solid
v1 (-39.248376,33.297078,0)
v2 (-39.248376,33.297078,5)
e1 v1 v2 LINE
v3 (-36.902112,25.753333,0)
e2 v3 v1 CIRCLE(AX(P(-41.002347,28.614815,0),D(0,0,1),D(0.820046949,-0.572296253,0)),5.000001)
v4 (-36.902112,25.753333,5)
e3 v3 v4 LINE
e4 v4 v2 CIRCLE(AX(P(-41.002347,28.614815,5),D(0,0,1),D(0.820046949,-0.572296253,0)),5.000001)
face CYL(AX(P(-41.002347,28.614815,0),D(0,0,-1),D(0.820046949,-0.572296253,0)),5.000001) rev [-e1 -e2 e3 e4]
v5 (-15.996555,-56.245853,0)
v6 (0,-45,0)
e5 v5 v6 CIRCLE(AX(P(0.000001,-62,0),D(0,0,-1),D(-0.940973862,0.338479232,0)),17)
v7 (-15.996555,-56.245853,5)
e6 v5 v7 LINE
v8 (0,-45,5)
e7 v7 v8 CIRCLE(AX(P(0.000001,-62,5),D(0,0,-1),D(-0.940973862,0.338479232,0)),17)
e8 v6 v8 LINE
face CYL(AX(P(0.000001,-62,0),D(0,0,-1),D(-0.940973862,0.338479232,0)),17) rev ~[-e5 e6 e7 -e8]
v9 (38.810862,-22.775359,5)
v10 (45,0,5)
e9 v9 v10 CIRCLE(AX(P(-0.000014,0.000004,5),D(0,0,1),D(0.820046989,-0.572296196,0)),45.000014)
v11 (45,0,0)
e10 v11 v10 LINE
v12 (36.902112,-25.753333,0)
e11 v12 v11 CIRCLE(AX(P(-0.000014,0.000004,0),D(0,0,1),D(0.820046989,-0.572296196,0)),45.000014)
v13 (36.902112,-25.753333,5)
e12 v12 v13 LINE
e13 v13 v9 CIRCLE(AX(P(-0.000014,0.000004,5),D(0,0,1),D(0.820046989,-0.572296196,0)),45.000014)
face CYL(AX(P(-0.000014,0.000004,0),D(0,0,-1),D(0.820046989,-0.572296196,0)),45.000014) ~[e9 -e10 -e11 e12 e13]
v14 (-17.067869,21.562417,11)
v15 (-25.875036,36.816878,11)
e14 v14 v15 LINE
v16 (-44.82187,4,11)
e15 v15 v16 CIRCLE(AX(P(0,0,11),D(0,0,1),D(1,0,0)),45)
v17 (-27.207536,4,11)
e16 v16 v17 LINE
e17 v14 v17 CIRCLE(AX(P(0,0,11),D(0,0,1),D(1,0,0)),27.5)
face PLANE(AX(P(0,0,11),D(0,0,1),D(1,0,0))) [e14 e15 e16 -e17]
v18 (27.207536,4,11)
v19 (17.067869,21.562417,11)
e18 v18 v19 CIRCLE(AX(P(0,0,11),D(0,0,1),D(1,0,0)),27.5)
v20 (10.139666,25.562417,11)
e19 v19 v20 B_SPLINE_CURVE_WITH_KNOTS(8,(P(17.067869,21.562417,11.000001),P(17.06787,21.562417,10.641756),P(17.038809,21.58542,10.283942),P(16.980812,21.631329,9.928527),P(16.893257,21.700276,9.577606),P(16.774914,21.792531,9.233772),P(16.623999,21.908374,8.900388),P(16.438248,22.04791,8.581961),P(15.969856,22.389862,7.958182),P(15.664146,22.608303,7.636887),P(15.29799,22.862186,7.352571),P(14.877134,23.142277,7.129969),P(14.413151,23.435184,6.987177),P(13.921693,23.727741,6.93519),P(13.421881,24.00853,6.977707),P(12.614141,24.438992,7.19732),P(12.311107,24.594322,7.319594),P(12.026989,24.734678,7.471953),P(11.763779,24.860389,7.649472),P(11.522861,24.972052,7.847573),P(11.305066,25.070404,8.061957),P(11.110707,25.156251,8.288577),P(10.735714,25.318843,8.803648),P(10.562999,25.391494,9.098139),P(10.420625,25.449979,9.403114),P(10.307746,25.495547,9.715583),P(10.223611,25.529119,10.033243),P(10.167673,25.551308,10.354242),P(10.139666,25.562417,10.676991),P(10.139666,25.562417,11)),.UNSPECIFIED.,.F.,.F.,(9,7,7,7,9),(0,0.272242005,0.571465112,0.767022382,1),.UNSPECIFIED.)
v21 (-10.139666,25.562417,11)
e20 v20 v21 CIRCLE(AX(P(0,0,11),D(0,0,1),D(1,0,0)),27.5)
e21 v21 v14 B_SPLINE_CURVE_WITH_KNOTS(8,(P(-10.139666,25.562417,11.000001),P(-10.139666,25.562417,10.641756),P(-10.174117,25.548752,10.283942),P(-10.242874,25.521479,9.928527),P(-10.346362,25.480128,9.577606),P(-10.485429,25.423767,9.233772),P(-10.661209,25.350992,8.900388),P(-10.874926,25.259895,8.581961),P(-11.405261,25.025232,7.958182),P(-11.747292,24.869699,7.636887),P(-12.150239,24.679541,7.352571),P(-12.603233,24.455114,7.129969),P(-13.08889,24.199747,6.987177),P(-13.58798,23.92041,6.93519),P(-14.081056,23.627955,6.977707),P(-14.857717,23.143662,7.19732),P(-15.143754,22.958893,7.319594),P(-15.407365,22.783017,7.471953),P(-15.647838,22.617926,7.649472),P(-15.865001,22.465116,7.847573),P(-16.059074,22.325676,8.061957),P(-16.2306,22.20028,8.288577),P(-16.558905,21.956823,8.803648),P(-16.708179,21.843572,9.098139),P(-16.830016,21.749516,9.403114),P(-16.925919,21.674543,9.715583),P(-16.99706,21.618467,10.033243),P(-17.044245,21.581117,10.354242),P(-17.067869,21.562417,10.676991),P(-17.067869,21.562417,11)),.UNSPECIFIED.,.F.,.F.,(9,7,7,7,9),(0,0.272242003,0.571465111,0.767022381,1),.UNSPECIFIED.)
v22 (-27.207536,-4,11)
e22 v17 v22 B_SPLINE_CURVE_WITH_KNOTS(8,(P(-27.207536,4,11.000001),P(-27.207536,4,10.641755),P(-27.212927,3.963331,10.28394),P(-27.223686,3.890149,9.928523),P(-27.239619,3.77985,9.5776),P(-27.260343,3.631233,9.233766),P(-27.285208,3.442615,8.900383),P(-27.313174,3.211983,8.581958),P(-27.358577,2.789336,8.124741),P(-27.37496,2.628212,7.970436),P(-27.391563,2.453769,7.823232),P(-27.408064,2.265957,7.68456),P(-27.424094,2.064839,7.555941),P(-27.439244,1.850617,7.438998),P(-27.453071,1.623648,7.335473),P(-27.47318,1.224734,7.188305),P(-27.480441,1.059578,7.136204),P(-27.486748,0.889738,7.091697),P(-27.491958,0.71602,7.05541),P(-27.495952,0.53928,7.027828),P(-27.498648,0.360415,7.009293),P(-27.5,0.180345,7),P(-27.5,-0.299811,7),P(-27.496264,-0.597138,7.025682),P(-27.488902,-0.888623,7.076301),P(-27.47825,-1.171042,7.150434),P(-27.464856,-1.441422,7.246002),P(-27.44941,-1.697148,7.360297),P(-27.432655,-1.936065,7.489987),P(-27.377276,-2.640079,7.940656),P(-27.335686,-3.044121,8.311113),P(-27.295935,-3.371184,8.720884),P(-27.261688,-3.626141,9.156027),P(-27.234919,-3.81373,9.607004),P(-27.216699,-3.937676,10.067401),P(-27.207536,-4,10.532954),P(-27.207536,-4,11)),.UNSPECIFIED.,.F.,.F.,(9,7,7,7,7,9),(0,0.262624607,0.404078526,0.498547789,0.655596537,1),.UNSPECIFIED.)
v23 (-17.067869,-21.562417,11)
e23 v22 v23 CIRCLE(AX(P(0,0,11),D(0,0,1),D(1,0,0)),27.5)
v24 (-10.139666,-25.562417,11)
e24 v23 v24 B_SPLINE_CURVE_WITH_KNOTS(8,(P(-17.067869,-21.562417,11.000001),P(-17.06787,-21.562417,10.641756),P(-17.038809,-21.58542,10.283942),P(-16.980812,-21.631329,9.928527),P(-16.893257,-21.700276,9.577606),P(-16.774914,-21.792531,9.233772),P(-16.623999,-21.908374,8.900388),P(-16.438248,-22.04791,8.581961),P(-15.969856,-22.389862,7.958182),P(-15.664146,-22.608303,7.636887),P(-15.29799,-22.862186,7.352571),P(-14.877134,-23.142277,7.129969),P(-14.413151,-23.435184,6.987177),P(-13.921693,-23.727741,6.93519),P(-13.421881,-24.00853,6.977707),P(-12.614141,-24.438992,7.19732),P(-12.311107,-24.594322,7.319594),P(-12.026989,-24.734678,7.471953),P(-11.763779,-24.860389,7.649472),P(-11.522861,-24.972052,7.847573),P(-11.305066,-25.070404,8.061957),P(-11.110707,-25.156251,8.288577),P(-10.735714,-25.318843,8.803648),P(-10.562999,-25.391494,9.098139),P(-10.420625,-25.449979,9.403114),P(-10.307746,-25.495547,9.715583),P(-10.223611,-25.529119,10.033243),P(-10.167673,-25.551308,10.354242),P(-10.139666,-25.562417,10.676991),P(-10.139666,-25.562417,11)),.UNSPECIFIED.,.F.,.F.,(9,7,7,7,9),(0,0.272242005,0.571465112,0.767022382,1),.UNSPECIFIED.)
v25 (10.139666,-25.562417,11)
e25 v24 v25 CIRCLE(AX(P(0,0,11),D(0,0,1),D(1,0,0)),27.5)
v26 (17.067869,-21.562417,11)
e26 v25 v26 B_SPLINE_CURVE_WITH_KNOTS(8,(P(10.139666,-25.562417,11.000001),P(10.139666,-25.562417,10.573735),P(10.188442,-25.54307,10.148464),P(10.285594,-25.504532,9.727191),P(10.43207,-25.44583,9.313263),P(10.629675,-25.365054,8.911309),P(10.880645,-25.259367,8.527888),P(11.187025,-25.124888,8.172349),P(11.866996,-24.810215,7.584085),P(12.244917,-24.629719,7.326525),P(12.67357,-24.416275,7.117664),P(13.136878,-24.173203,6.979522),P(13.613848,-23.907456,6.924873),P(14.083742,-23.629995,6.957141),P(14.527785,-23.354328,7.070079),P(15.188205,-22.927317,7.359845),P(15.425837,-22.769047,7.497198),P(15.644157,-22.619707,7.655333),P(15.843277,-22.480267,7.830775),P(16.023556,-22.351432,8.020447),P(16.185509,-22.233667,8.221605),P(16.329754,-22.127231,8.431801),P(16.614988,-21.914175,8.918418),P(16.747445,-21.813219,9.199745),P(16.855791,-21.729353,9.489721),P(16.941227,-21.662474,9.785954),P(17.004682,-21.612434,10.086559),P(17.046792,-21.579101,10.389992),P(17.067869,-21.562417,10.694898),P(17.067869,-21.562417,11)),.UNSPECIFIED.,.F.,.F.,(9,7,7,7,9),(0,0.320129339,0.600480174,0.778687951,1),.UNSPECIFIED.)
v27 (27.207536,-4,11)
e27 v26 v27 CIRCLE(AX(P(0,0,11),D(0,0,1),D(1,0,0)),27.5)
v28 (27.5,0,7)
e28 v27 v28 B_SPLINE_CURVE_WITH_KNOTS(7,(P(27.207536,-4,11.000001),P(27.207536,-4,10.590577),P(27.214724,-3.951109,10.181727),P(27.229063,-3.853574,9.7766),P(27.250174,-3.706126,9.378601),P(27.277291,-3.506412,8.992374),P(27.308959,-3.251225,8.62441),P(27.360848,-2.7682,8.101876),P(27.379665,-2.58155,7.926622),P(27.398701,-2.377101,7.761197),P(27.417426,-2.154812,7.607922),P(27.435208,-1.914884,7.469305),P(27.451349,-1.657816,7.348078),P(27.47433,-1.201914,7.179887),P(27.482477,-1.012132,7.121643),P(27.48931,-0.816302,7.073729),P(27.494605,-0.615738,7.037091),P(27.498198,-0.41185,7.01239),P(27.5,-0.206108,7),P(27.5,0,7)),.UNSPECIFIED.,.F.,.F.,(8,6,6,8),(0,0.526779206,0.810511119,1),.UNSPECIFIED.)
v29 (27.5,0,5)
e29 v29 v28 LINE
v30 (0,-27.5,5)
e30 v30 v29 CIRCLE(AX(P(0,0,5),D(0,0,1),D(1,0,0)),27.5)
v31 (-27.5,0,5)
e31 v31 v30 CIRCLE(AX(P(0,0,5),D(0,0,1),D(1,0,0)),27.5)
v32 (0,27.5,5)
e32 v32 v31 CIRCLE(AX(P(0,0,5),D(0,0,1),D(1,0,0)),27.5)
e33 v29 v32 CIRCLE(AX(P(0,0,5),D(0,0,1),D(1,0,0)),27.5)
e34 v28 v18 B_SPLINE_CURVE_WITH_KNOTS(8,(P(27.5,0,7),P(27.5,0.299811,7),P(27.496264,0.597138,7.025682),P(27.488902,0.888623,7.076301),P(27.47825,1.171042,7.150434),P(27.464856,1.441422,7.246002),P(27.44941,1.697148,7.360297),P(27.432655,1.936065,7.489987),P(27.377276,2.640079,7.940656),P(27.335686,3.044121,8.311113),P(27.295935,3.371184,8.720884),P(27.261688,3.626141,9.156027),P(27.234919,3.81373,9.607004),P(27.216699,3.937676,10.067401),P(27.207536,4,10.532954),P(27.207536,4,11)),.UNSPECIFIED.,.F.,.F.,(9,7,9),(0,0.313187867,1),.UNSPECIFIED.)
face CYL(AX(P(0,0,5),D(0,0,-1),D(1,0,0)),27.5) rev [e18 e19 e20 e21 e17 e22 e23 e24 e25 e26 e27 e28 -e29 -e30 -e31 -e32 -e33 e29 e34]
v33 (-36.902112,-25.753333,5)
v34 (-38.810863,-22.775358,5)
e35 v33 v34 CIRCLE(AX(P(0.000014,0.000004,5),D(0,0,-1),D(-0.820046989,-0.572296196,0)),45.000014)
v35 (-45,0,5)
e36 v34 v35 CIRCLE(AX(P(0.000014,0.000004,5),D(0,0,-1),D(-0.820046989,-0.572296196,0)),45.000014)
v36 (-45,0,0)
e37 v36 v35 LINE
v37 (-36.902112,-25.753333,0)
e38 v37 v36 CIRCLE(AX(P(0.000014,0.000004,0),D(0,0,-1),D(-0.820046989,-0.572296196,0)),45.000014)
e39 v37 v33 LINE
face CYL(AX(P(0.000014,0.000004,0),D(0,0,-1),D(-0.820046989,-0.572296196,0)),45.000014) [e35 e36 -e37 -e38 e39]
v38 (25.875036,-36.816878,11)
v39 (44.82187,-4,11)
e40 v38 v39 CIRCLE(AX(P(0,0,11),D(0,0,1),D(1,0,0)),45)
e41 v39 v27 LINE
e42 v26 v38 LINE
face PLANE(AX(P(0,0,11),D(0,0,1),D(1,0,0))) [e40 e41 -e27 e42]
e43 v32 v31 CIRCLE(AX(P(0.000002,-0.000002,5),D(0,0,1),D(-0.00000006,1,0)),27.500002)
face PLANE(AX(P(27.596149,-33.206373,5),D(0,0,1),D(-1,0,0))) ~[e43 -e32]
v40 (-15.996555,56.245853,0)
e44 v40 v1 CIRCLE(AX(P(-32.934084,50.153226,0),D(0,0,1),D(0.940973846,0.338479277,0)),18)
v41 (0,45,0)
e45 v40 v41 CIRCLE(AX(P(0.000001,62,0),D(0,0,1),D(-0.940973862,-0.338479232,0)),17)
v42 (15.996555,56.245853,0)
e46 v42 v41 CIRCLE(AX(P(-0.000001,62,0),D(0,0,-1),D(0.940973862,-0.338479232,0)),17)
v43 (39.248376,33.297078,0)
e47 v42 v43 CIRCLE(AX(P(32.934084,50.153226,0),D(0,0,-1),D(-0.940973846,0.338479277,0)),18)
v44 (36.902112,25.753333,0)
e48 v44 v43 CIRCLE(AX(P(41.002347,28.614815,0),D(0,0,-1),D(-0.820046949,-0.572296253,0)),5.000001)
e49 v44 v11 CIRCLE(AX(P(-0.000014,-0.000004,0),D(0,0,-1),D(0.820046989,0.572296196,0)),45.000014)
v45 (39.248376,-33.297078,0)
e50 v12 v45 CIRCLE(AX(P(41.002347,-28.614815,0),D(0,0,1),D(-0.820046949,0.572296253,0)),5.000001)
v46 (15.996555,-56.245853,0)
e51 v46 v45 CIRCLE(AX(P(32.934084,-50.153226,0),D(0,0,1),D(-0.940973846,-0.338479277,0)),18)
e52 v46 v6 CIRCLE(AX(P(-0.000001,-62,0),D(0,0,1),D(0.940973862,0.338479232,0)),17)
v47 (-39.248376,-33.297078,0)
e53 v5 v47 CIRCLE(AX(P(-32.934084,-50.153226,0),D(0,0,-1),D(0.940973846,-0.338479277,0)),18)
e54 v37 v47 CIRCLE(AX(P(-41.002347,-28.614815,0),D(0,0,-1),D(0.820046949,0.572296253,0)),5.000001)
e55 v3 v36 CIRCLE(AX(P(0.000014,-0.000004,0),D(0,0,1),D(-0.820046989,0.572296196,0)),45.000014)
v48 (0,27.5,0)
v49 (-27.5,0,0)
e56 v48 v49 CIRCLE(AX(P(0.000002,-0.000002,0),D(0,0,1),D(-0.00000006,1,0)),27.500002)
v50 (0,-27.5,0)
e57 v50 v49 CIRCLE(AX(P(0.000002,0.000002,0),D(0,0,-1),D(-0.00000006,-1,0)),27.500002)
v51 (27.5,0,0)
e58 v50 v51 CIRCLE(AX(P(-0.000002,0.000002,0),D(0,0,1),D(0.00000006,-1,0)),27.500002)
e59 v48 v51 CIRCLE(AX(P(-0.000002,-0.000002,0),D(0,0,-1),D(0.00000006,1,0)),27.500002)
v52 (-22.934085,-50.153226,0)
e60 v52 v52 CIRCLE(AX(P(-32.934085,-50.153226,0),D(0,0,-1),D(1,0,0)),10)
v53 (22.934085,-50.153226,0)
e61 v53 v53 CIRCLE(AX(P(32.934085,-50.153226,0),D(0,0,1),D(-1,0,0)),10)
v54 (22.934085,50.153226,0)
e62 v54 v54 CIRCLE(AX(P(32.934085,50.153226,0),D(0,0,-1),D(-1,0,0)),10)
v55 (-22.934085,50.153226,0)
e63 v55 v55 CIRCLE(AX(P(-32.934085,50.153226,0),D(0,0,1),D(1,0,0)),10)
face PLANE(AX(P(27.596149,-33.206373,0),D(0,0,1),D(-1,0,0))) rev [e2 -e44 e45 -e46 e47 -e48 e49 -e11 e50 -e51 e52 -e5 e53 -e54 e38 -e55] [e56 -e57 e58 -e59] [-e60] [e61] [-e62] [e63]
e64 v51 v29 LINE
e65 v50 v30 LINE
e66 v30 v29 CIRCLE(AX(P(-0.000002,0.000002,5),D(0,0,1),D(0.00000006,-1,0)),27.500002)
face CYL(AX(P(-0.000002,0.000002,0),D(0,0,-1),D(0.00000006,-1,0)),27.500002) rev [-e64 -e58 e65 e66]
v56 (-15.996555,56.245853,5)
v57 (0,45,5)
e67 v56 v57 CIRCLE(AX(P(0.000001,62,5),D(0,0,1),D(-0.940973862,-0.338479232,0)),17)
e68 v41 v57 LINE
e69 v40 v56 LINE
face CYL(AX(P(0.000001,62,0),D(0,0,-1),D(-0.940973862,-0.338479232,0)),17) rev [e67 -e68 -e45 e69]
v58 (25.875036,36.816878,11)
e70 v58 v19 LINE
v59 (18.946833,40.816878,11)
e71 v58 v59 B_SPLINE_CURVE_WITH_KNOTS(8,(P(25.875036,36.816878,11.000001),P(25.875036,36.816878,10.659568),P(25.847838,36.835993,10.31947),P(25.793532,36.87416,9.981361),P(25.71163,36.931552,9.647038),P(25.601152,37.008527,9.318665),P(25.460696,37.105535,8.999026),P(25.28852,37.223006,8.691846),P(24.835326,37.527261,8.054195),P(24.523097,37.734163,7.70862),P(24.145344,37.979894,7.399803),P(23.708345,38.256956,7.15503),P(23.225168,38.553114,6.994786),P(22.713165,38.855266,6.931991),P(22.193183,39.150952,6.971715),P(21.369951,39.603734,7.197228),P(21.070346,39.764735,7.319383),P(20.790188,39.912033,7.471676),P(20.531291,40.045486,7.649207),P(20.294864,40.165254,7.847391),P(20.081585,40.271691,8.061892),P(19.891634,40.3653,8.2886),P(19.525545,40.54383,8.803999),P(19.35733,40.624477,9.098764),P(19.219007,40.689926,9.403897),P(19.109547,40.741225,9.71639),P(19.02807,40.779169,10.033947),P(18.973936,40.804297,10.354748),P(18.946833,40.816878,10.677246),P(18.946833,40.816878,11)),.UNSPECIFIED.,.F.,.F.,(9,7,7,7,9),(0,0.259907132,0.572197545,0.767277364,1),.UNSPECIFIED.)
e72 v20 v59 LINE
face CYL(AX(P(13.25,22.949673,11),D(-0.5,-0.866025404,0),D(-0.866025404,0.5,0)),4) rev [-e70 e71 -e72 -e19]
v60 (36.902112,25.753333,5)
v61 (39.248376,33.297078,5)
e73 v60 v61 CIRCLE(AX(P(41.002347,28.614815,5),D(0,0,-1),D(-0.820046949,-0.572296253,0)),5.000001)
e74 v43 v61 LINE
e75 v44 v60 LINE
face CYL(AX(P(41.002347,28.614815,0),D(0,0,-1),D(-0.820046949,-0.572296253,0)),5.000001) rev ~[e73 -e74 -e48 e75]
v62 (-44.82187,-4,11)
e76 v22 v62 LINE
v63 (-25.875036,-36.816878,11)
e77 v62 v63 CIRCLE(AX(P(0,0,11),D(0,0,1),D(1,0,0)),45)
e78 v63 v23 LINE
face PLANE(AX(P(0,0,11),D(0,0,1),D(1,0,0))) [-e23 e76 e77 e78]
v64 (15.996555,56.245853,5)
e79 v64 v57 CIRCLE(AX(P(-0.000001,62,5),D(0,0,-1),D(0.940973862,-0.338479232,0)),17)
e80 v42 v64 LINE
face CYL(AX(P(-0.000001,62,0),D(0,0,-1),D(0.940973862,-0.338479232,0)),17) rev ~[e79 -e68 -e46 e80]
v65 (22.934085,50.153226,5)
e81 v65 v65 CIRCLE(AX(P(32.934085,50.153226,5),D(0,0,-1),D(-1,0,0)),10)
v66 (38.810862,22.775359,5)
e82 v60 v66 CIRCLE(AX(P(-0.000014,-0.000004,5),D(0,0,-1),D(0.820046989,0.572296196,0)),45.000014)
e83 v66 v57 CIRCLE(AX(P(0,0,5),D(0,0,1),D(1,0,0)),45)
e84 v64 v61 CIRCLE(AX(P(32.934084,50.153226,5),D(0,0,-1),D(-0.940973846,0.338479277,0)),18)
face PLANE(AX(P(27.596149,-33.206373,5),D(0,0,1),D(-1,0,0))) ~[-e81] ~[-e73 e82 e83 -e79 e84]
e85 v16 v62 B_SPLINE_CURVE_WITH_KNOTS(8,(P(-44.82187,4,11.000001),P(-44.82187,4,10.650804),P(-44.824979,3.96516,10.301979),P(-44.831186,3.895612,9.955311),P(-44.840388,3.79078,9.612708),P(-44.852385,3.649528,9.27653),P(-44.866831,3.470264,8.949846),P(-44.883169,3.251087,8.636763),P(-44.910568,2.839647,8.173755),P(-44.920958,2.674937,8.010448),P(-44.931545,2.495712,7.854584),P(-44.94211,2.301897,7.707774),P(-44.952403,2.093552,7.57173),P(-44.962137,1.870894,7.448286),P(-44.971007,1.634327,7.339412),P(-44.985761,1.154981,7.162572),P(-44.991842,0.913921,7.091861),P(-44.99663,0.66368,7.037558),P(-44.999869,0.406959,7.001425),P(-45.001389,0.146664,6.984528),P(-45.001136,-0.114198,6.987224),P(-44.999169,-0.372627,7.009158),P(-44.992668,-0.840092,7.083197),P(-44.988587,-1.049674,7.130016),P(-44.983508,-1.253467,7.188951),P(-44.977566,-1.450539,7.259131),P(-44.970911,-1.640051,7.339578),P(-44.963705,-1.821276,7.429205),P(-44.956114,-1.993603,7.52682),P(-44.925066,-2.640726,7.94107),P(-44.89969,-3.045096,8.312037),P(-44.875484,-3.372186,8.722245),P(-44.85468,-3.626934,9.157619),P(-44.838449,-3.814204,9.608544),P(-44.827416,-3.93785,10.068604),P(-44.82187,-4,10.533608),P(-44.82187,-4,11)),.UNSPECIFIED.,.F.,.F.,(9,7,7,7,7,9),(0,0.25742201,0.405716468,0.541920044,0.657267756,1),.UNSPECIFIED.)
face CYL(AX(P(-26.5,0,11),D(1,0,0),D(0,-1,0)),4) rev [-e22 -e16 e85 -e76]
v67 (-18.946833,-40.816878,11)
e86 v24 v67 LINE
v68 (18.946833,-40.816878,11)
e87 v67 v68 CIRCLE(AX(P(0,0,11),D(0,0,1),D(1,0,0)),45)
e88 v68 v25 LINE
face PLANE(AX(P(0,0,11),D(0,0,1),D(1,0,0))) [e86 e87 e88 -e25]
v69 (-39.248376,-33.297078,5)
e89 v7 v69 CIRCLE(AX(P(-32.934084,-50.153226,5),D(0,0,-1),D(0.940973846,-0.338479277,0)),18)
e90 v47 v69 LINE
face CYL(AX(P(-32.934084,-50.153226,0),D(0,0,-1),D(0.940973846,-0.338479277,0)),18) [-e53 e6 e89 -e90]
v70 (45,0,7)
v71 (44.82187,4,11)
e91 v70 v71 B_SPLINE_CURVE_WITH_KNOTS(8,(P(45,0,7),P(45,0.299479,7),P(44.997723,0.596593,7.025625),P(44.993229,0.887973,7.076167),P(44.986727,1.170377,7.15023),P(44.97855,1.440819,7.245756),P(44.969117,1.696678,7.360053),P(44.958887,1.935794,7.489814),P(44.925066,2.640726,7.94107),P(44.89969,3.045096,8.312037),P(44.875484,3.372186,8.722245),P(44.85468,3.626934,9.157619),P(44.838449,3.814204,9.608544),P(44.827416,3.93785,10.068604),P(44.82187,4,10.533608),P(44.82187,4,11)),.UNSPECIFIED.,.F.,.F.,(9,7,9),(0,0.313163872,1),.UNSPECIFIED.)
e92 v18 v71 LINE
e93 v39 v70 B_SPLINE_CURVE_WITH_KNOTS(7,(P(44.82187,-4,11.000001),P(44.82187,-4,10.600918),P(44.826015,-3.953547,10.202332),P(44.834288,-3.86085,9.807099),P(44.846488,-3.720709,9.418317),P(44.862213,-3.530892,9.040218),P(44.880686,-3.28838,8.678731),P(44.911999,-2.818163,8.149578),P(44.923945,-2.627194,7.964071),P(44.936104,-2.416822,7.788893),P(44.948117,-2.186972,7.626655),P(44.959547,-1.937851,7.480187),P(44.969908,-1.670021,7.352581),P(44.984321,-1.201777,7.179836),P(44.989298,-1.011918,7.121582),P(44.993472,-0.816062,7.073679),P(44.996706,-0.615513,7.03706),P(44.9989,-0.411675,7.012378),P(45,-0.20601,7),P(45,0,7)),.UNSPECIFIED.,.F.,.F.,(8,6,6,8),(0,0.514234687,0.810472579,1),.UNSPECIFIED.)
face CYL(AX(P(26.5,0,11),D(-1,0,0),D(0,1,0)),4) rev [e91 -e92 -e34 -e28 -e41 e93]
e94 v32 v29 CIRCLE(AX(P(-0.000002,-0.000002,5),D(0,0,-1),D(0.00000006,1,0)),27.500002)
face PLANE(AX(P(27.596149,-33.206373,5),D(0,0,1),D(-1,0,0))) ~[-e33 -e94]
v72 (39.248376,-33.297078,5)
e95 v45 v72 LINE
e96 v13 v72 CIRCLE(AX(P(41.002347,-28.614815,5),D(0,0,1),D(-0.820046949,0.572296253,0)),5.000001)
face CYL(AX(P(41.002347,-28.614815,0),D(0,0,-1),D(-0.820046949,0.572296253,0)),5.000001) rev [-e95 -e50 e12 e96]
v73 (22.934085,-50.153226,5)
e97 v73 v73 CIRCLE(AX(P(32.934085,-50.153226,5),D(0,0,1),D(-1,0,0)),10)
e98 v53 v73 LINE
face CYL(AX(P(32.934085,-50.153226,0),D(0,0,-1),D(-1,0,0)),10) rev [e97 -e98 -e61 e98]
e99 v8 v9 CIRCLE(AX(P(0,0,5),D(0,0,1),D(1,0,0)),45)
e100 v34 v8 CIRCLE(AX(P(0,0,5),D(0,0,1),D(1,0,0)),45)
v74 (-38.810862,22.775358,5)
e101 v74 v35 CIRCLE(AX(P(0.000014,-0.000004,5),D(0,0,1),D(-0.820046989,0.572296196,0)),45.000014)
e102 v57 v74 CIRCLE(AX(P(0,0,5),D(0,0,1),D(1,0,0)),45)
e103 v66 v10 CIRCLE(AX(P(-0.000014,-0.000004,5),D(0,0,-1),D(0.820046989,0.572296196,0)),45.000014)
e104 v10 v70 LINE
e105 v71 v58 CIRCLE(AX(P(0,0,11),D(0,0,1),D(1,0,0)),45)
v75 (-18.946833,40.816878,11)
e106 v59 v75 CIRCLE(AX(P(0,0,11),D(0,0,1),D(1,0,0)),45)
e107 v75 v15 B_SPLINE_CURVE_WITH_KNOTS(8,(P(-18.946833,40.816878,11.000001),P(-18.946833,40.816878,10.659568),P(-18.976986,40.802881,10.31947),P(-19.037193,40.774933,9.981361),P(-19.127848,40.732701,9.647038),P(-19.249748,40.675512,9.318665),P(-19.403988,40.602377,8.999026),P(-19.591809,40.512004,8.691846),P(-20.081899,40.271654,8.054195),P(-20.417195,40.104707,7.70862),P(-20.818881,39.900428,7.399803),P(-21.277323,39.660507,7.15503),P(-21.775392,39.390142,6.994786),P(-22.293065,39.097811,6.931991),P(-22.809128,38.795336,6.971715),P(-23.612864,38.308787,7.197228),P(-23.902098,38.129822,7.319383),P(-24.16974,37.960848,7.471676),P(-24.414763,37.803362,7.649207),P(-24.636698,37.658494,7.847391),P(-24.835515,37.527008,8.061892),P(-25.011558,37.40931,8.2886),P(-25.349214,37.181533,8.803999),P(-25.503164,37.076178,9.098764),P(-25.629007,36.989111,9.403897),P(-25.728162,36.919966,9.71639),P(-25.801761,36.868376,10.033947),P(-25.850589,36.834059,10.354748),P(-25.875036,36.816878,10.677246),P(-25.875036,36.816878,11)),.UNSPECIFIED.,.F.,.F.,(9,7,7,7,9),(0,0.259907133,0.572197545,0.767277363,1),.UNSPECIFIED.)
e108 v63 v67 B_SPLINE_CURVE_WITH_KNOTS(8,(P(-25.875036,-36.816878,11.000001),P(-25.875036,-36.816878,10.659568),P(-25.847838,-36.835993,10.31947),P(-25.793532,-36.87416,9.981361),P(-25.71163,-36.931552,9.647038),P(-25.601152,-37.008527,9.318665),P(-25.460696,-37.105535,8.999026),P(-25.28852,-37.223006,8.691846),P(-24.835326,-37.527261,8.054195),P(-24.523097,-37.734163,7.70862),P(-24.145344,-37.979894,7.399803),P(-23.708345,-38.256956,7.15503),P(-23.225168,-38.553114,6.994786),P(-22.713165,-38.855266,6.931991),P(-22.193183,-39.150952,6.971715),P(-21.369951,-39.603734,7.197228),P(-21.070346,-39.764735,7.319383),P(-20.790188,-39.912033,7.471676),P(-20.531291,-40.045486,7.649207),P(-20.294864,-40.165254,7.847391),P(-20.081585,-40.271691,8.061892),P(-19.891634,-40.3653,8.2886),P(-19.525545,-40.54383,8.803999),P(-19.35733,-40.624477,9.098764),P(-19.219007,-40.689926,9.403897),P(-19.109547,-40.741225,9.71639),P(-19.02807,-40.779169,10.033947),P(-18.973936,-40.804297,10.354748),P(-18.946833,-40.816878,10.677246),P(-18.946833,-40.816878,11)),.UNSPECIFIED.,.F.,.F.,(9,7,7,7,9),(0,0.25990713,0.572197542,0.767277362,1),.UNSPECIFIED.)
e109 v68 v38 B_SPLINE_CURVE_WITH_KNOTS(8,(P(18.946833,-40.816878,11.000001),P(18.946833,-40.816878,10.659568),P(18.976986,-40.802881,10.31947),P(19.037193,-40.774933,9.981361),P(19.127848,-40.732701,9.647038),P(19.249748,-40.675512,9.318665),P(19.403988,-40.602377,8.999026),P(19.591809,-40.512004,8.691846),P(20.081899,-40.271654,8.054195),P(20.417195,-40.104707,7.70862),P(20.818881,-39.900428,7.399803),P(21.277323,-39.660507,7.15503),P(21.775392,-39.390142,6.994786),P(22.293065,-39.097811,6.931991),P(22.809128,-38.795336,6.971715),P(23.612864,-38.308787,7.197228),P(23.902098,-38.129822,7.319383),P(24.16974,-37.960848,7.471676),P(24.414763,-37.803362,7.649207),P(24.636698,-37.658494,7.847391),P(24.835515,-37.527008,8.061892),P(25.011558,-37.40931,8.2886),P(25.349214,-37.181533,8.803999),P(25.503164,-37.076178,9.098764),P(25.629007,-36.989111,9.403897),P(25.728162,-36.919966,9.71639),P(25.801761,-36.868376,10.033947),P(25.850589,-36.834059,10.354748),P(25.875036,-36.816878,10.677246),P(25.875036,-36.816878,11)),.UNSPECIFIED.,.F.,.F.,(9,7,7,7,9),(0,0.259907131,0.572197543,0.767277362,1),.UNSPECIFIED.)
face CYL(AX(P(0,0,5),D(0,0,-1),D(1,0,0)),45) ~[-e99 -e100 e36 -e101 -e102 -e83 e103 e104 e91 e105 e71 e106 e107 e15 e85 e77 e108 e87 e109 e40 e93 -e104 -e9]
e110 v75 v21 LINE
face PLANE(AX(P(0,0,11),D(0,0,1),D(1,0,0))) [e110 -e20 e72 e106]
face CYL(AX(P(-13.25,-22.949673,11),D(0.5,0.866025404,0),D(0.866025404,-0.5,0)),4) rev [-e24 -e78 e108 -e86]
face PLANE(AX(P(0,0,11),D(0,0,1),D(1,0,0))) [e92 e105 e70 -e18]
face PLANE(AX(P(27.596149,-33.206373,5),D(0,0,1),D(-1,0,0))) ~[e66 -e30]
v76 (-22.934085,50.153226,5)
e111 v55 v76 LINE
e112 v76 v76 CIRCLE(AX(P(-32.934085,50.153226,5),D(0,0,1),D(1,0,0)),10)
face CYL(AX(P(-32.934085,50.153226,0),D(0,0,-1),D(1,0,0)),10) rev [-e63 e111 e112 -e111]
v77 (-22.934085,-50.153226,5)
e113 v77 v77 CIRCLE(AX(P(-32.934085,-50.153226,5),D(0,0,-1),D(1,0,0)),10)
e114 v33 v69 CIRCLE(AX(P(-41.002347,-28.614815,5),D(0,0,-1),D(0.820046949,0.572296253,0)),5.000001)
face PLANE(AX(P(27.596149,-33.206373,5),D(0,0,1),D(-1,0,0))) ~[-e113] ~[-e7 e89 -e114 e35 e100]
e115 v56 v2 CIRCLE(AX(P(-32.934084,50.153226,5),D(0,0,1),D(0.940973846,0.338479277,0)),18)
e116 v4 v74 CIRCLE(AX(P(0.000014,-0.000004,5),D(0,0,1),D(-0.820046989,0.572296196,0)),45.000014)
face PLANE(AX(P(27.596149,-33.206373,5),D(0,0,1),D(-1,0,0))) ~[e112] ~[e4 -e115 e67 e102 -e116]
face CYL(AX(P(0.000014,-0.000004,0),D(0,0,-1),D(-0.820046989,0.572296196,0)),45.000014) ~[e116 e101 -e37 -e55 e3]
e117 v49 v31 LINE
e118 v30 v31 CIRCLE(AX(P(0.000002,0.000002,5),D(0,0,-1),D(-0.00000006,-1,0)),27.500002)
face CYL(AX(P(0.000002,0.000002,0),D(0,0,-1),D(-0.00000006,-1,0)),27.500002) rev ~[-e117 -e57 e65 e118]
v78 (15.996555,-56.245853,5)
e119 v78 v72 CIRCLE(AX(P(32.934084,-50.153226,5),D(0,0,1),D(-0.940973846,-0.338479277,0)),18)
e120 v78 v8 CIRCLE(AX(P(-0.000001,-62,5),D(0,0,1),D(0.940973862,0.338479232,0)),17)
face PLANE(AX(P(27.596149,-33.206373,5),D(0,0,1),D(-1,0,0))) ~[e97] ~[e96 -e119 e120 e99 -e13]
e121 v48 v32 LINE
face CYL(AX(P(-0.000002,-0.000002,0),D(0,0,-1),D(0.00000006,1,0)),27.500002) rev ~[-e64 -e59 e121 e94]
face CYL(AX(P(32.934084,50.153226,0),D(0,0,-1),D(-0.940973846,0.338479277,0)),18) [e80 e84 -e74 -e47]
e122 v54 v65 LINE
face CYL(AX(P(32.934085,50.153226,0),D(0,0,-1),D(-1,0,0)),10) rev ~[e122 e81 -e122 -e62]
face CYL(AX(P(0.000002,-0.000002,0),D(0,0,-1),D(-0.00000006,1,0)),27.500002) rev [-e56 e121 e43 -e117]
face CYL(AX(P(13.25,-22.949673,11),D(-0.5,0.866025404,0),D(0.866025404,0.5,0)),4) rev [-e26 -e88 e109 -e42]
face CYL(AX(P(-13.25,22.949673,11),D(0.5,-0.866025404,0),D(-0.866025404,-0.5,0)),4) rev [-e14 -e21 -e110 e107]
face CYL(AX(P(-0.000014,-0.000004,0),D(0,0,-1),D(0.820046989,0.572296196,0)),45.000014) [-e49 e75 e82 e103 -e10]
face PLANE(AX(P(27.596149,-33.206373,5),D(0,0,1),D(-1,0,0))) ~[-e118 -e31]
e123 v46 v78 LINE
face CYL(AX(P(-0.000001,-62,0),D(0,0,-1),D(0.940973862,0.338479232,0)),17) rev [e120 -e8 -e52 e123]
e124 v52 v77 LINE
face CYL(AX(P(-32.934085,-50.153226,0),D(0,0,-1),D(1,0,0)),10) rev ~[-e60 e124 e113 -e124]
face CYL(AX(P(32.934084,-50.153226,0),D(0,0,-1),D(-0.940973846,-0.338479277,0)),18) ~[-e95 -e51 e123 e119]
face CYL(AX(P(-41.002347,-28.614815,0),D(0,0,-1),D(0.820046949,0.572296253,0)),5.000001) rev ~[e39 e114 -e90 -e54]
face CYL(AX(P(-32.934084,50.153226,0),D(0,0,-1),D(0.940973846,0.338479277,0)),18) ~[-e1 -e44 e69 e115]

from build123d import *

# Parameters (mm, degrees)
SKETCH_R             = 10
PAD_DEPTH            = 5
SKETCH_MIRRORED_2_R  = 10
PAD_MIRRORED_2_DEPTH = 5
SKETCH001_R          = 45
SKETCH001_R_2        = 27.5
PAD001_DEPTH         = 6
CYLINDER_R           = 4
CYLINDER_DEPTH       = 19.5
POLARPATTERN_COUNT   = 6


with BuildPart() as part:
    # Sketch → Pad (new body)
    with BuildSketch(Plane.XY):
        with BuildLine():
            ThreePointArc((-15.996555, 56.245853), (-9.777001, 48.092799), (0, 45))
            Line((0, 45), (0, 27.5))
            ThreePointArc((0, 27.5), (-19.445436, 19.445436), (-27.5, 0))
            Line((-45, 0), (-27.5, 0))
            ThreePointArc((-36.902112, 25.753333), (-42.927817, 13.49824), (-45, 0))
            ThreePointArc((-36.902112, 25.753333), (-36.227941, 30.099756), (-39.248376, 33.297078))
            ThreePointArc((-15.996555, 56.245853), (-45.578248, 62.964359), (-39.248376, 33.297078))
        make_face()
        with Locations((-32.934085, 50.153226)):
            Circle(SKETCH_R, mode=Mode.SUBTRACT)
    pad = extrude(amount=PAD_DEPTH)

    # Sketch Mirrored 2 → Pad Mirrored 2 (add)
    with BuildSketch(Plane(origin=(0, 0, 0), x_dir=(-1, 0, 0), z_dir=(0, 0, -1))):
        with BuildLine():
            ThreePointArc((-15.996555, 56.245853), (-9.777001, 48.092799), (0, 45))
            Line((0, 45), (0, 27.5))
            ThreePointArc((0, 27.5), (-19.445436, 19.445436), (-27.5, 0))
            Line((-45, 0), (-27.5, 0))
            ThreePointArc((-36.902112, 25.753333), (-42.927817, 13.49824), (-45, 0))
            ThreePointArc((-36.902112, 25.753333), (-36.227941, 30.099756), (-39.248376, 33.297078))
            ThreePointArc((-15.996555, 56.245853), (-45.578248, 62.964359), (-39.248376, 33.297078))
        make_face()
        with Locations((-32.934085, 50.153226)):
            Circle(SKETCH_MIRRORED_2_R, mode=Mode.SUBTRACT)
    pad_mirrored_2 = extrude(amount=-PAD_MIRRORED_2_DEPTH)

    # Mirrored001: Pad, Pad Mirrored 2 across Sketch H_Axis
    add(pad.mirror(Plane.ZX))
    add(pad_mirrored_2.mirror(Plane.ZX))

    # Sketch001 → Pad001 (join)
    with BuildSketch(Plane.XY.offset(5)):
        Circle(SKETCH001_R)
        Circle(SKETCH001_R_2, mode=Mode.SUBTRACT)
    extrude(amount=PAD001_DEPTH)

    # Cylinder → Cylinder (cut)
    with BuildSketch(Plane(origin=(26.5, 0, 11), x_dir=(0, 1, 0), z_dir=(1, 0, 0))):
        Circle(CYLINDER_R)
    cylinder = extrude(amount=CYLINDER_DEPTH, mode=Mode.SUBTRACT)

    # PolarPattern: Cylinder ×6 about axis
    polarpattern_axis = Axis((0, 0, 0), (0, 0, 1))
    for i in range(1, POLARPATTERN_COUNT):
        add(cylinder.rotate(polarpattern_axis, i * 360 / POLARPATTERN_COUNT), mode=Mode.SUBTRACT)


solid = part.part
